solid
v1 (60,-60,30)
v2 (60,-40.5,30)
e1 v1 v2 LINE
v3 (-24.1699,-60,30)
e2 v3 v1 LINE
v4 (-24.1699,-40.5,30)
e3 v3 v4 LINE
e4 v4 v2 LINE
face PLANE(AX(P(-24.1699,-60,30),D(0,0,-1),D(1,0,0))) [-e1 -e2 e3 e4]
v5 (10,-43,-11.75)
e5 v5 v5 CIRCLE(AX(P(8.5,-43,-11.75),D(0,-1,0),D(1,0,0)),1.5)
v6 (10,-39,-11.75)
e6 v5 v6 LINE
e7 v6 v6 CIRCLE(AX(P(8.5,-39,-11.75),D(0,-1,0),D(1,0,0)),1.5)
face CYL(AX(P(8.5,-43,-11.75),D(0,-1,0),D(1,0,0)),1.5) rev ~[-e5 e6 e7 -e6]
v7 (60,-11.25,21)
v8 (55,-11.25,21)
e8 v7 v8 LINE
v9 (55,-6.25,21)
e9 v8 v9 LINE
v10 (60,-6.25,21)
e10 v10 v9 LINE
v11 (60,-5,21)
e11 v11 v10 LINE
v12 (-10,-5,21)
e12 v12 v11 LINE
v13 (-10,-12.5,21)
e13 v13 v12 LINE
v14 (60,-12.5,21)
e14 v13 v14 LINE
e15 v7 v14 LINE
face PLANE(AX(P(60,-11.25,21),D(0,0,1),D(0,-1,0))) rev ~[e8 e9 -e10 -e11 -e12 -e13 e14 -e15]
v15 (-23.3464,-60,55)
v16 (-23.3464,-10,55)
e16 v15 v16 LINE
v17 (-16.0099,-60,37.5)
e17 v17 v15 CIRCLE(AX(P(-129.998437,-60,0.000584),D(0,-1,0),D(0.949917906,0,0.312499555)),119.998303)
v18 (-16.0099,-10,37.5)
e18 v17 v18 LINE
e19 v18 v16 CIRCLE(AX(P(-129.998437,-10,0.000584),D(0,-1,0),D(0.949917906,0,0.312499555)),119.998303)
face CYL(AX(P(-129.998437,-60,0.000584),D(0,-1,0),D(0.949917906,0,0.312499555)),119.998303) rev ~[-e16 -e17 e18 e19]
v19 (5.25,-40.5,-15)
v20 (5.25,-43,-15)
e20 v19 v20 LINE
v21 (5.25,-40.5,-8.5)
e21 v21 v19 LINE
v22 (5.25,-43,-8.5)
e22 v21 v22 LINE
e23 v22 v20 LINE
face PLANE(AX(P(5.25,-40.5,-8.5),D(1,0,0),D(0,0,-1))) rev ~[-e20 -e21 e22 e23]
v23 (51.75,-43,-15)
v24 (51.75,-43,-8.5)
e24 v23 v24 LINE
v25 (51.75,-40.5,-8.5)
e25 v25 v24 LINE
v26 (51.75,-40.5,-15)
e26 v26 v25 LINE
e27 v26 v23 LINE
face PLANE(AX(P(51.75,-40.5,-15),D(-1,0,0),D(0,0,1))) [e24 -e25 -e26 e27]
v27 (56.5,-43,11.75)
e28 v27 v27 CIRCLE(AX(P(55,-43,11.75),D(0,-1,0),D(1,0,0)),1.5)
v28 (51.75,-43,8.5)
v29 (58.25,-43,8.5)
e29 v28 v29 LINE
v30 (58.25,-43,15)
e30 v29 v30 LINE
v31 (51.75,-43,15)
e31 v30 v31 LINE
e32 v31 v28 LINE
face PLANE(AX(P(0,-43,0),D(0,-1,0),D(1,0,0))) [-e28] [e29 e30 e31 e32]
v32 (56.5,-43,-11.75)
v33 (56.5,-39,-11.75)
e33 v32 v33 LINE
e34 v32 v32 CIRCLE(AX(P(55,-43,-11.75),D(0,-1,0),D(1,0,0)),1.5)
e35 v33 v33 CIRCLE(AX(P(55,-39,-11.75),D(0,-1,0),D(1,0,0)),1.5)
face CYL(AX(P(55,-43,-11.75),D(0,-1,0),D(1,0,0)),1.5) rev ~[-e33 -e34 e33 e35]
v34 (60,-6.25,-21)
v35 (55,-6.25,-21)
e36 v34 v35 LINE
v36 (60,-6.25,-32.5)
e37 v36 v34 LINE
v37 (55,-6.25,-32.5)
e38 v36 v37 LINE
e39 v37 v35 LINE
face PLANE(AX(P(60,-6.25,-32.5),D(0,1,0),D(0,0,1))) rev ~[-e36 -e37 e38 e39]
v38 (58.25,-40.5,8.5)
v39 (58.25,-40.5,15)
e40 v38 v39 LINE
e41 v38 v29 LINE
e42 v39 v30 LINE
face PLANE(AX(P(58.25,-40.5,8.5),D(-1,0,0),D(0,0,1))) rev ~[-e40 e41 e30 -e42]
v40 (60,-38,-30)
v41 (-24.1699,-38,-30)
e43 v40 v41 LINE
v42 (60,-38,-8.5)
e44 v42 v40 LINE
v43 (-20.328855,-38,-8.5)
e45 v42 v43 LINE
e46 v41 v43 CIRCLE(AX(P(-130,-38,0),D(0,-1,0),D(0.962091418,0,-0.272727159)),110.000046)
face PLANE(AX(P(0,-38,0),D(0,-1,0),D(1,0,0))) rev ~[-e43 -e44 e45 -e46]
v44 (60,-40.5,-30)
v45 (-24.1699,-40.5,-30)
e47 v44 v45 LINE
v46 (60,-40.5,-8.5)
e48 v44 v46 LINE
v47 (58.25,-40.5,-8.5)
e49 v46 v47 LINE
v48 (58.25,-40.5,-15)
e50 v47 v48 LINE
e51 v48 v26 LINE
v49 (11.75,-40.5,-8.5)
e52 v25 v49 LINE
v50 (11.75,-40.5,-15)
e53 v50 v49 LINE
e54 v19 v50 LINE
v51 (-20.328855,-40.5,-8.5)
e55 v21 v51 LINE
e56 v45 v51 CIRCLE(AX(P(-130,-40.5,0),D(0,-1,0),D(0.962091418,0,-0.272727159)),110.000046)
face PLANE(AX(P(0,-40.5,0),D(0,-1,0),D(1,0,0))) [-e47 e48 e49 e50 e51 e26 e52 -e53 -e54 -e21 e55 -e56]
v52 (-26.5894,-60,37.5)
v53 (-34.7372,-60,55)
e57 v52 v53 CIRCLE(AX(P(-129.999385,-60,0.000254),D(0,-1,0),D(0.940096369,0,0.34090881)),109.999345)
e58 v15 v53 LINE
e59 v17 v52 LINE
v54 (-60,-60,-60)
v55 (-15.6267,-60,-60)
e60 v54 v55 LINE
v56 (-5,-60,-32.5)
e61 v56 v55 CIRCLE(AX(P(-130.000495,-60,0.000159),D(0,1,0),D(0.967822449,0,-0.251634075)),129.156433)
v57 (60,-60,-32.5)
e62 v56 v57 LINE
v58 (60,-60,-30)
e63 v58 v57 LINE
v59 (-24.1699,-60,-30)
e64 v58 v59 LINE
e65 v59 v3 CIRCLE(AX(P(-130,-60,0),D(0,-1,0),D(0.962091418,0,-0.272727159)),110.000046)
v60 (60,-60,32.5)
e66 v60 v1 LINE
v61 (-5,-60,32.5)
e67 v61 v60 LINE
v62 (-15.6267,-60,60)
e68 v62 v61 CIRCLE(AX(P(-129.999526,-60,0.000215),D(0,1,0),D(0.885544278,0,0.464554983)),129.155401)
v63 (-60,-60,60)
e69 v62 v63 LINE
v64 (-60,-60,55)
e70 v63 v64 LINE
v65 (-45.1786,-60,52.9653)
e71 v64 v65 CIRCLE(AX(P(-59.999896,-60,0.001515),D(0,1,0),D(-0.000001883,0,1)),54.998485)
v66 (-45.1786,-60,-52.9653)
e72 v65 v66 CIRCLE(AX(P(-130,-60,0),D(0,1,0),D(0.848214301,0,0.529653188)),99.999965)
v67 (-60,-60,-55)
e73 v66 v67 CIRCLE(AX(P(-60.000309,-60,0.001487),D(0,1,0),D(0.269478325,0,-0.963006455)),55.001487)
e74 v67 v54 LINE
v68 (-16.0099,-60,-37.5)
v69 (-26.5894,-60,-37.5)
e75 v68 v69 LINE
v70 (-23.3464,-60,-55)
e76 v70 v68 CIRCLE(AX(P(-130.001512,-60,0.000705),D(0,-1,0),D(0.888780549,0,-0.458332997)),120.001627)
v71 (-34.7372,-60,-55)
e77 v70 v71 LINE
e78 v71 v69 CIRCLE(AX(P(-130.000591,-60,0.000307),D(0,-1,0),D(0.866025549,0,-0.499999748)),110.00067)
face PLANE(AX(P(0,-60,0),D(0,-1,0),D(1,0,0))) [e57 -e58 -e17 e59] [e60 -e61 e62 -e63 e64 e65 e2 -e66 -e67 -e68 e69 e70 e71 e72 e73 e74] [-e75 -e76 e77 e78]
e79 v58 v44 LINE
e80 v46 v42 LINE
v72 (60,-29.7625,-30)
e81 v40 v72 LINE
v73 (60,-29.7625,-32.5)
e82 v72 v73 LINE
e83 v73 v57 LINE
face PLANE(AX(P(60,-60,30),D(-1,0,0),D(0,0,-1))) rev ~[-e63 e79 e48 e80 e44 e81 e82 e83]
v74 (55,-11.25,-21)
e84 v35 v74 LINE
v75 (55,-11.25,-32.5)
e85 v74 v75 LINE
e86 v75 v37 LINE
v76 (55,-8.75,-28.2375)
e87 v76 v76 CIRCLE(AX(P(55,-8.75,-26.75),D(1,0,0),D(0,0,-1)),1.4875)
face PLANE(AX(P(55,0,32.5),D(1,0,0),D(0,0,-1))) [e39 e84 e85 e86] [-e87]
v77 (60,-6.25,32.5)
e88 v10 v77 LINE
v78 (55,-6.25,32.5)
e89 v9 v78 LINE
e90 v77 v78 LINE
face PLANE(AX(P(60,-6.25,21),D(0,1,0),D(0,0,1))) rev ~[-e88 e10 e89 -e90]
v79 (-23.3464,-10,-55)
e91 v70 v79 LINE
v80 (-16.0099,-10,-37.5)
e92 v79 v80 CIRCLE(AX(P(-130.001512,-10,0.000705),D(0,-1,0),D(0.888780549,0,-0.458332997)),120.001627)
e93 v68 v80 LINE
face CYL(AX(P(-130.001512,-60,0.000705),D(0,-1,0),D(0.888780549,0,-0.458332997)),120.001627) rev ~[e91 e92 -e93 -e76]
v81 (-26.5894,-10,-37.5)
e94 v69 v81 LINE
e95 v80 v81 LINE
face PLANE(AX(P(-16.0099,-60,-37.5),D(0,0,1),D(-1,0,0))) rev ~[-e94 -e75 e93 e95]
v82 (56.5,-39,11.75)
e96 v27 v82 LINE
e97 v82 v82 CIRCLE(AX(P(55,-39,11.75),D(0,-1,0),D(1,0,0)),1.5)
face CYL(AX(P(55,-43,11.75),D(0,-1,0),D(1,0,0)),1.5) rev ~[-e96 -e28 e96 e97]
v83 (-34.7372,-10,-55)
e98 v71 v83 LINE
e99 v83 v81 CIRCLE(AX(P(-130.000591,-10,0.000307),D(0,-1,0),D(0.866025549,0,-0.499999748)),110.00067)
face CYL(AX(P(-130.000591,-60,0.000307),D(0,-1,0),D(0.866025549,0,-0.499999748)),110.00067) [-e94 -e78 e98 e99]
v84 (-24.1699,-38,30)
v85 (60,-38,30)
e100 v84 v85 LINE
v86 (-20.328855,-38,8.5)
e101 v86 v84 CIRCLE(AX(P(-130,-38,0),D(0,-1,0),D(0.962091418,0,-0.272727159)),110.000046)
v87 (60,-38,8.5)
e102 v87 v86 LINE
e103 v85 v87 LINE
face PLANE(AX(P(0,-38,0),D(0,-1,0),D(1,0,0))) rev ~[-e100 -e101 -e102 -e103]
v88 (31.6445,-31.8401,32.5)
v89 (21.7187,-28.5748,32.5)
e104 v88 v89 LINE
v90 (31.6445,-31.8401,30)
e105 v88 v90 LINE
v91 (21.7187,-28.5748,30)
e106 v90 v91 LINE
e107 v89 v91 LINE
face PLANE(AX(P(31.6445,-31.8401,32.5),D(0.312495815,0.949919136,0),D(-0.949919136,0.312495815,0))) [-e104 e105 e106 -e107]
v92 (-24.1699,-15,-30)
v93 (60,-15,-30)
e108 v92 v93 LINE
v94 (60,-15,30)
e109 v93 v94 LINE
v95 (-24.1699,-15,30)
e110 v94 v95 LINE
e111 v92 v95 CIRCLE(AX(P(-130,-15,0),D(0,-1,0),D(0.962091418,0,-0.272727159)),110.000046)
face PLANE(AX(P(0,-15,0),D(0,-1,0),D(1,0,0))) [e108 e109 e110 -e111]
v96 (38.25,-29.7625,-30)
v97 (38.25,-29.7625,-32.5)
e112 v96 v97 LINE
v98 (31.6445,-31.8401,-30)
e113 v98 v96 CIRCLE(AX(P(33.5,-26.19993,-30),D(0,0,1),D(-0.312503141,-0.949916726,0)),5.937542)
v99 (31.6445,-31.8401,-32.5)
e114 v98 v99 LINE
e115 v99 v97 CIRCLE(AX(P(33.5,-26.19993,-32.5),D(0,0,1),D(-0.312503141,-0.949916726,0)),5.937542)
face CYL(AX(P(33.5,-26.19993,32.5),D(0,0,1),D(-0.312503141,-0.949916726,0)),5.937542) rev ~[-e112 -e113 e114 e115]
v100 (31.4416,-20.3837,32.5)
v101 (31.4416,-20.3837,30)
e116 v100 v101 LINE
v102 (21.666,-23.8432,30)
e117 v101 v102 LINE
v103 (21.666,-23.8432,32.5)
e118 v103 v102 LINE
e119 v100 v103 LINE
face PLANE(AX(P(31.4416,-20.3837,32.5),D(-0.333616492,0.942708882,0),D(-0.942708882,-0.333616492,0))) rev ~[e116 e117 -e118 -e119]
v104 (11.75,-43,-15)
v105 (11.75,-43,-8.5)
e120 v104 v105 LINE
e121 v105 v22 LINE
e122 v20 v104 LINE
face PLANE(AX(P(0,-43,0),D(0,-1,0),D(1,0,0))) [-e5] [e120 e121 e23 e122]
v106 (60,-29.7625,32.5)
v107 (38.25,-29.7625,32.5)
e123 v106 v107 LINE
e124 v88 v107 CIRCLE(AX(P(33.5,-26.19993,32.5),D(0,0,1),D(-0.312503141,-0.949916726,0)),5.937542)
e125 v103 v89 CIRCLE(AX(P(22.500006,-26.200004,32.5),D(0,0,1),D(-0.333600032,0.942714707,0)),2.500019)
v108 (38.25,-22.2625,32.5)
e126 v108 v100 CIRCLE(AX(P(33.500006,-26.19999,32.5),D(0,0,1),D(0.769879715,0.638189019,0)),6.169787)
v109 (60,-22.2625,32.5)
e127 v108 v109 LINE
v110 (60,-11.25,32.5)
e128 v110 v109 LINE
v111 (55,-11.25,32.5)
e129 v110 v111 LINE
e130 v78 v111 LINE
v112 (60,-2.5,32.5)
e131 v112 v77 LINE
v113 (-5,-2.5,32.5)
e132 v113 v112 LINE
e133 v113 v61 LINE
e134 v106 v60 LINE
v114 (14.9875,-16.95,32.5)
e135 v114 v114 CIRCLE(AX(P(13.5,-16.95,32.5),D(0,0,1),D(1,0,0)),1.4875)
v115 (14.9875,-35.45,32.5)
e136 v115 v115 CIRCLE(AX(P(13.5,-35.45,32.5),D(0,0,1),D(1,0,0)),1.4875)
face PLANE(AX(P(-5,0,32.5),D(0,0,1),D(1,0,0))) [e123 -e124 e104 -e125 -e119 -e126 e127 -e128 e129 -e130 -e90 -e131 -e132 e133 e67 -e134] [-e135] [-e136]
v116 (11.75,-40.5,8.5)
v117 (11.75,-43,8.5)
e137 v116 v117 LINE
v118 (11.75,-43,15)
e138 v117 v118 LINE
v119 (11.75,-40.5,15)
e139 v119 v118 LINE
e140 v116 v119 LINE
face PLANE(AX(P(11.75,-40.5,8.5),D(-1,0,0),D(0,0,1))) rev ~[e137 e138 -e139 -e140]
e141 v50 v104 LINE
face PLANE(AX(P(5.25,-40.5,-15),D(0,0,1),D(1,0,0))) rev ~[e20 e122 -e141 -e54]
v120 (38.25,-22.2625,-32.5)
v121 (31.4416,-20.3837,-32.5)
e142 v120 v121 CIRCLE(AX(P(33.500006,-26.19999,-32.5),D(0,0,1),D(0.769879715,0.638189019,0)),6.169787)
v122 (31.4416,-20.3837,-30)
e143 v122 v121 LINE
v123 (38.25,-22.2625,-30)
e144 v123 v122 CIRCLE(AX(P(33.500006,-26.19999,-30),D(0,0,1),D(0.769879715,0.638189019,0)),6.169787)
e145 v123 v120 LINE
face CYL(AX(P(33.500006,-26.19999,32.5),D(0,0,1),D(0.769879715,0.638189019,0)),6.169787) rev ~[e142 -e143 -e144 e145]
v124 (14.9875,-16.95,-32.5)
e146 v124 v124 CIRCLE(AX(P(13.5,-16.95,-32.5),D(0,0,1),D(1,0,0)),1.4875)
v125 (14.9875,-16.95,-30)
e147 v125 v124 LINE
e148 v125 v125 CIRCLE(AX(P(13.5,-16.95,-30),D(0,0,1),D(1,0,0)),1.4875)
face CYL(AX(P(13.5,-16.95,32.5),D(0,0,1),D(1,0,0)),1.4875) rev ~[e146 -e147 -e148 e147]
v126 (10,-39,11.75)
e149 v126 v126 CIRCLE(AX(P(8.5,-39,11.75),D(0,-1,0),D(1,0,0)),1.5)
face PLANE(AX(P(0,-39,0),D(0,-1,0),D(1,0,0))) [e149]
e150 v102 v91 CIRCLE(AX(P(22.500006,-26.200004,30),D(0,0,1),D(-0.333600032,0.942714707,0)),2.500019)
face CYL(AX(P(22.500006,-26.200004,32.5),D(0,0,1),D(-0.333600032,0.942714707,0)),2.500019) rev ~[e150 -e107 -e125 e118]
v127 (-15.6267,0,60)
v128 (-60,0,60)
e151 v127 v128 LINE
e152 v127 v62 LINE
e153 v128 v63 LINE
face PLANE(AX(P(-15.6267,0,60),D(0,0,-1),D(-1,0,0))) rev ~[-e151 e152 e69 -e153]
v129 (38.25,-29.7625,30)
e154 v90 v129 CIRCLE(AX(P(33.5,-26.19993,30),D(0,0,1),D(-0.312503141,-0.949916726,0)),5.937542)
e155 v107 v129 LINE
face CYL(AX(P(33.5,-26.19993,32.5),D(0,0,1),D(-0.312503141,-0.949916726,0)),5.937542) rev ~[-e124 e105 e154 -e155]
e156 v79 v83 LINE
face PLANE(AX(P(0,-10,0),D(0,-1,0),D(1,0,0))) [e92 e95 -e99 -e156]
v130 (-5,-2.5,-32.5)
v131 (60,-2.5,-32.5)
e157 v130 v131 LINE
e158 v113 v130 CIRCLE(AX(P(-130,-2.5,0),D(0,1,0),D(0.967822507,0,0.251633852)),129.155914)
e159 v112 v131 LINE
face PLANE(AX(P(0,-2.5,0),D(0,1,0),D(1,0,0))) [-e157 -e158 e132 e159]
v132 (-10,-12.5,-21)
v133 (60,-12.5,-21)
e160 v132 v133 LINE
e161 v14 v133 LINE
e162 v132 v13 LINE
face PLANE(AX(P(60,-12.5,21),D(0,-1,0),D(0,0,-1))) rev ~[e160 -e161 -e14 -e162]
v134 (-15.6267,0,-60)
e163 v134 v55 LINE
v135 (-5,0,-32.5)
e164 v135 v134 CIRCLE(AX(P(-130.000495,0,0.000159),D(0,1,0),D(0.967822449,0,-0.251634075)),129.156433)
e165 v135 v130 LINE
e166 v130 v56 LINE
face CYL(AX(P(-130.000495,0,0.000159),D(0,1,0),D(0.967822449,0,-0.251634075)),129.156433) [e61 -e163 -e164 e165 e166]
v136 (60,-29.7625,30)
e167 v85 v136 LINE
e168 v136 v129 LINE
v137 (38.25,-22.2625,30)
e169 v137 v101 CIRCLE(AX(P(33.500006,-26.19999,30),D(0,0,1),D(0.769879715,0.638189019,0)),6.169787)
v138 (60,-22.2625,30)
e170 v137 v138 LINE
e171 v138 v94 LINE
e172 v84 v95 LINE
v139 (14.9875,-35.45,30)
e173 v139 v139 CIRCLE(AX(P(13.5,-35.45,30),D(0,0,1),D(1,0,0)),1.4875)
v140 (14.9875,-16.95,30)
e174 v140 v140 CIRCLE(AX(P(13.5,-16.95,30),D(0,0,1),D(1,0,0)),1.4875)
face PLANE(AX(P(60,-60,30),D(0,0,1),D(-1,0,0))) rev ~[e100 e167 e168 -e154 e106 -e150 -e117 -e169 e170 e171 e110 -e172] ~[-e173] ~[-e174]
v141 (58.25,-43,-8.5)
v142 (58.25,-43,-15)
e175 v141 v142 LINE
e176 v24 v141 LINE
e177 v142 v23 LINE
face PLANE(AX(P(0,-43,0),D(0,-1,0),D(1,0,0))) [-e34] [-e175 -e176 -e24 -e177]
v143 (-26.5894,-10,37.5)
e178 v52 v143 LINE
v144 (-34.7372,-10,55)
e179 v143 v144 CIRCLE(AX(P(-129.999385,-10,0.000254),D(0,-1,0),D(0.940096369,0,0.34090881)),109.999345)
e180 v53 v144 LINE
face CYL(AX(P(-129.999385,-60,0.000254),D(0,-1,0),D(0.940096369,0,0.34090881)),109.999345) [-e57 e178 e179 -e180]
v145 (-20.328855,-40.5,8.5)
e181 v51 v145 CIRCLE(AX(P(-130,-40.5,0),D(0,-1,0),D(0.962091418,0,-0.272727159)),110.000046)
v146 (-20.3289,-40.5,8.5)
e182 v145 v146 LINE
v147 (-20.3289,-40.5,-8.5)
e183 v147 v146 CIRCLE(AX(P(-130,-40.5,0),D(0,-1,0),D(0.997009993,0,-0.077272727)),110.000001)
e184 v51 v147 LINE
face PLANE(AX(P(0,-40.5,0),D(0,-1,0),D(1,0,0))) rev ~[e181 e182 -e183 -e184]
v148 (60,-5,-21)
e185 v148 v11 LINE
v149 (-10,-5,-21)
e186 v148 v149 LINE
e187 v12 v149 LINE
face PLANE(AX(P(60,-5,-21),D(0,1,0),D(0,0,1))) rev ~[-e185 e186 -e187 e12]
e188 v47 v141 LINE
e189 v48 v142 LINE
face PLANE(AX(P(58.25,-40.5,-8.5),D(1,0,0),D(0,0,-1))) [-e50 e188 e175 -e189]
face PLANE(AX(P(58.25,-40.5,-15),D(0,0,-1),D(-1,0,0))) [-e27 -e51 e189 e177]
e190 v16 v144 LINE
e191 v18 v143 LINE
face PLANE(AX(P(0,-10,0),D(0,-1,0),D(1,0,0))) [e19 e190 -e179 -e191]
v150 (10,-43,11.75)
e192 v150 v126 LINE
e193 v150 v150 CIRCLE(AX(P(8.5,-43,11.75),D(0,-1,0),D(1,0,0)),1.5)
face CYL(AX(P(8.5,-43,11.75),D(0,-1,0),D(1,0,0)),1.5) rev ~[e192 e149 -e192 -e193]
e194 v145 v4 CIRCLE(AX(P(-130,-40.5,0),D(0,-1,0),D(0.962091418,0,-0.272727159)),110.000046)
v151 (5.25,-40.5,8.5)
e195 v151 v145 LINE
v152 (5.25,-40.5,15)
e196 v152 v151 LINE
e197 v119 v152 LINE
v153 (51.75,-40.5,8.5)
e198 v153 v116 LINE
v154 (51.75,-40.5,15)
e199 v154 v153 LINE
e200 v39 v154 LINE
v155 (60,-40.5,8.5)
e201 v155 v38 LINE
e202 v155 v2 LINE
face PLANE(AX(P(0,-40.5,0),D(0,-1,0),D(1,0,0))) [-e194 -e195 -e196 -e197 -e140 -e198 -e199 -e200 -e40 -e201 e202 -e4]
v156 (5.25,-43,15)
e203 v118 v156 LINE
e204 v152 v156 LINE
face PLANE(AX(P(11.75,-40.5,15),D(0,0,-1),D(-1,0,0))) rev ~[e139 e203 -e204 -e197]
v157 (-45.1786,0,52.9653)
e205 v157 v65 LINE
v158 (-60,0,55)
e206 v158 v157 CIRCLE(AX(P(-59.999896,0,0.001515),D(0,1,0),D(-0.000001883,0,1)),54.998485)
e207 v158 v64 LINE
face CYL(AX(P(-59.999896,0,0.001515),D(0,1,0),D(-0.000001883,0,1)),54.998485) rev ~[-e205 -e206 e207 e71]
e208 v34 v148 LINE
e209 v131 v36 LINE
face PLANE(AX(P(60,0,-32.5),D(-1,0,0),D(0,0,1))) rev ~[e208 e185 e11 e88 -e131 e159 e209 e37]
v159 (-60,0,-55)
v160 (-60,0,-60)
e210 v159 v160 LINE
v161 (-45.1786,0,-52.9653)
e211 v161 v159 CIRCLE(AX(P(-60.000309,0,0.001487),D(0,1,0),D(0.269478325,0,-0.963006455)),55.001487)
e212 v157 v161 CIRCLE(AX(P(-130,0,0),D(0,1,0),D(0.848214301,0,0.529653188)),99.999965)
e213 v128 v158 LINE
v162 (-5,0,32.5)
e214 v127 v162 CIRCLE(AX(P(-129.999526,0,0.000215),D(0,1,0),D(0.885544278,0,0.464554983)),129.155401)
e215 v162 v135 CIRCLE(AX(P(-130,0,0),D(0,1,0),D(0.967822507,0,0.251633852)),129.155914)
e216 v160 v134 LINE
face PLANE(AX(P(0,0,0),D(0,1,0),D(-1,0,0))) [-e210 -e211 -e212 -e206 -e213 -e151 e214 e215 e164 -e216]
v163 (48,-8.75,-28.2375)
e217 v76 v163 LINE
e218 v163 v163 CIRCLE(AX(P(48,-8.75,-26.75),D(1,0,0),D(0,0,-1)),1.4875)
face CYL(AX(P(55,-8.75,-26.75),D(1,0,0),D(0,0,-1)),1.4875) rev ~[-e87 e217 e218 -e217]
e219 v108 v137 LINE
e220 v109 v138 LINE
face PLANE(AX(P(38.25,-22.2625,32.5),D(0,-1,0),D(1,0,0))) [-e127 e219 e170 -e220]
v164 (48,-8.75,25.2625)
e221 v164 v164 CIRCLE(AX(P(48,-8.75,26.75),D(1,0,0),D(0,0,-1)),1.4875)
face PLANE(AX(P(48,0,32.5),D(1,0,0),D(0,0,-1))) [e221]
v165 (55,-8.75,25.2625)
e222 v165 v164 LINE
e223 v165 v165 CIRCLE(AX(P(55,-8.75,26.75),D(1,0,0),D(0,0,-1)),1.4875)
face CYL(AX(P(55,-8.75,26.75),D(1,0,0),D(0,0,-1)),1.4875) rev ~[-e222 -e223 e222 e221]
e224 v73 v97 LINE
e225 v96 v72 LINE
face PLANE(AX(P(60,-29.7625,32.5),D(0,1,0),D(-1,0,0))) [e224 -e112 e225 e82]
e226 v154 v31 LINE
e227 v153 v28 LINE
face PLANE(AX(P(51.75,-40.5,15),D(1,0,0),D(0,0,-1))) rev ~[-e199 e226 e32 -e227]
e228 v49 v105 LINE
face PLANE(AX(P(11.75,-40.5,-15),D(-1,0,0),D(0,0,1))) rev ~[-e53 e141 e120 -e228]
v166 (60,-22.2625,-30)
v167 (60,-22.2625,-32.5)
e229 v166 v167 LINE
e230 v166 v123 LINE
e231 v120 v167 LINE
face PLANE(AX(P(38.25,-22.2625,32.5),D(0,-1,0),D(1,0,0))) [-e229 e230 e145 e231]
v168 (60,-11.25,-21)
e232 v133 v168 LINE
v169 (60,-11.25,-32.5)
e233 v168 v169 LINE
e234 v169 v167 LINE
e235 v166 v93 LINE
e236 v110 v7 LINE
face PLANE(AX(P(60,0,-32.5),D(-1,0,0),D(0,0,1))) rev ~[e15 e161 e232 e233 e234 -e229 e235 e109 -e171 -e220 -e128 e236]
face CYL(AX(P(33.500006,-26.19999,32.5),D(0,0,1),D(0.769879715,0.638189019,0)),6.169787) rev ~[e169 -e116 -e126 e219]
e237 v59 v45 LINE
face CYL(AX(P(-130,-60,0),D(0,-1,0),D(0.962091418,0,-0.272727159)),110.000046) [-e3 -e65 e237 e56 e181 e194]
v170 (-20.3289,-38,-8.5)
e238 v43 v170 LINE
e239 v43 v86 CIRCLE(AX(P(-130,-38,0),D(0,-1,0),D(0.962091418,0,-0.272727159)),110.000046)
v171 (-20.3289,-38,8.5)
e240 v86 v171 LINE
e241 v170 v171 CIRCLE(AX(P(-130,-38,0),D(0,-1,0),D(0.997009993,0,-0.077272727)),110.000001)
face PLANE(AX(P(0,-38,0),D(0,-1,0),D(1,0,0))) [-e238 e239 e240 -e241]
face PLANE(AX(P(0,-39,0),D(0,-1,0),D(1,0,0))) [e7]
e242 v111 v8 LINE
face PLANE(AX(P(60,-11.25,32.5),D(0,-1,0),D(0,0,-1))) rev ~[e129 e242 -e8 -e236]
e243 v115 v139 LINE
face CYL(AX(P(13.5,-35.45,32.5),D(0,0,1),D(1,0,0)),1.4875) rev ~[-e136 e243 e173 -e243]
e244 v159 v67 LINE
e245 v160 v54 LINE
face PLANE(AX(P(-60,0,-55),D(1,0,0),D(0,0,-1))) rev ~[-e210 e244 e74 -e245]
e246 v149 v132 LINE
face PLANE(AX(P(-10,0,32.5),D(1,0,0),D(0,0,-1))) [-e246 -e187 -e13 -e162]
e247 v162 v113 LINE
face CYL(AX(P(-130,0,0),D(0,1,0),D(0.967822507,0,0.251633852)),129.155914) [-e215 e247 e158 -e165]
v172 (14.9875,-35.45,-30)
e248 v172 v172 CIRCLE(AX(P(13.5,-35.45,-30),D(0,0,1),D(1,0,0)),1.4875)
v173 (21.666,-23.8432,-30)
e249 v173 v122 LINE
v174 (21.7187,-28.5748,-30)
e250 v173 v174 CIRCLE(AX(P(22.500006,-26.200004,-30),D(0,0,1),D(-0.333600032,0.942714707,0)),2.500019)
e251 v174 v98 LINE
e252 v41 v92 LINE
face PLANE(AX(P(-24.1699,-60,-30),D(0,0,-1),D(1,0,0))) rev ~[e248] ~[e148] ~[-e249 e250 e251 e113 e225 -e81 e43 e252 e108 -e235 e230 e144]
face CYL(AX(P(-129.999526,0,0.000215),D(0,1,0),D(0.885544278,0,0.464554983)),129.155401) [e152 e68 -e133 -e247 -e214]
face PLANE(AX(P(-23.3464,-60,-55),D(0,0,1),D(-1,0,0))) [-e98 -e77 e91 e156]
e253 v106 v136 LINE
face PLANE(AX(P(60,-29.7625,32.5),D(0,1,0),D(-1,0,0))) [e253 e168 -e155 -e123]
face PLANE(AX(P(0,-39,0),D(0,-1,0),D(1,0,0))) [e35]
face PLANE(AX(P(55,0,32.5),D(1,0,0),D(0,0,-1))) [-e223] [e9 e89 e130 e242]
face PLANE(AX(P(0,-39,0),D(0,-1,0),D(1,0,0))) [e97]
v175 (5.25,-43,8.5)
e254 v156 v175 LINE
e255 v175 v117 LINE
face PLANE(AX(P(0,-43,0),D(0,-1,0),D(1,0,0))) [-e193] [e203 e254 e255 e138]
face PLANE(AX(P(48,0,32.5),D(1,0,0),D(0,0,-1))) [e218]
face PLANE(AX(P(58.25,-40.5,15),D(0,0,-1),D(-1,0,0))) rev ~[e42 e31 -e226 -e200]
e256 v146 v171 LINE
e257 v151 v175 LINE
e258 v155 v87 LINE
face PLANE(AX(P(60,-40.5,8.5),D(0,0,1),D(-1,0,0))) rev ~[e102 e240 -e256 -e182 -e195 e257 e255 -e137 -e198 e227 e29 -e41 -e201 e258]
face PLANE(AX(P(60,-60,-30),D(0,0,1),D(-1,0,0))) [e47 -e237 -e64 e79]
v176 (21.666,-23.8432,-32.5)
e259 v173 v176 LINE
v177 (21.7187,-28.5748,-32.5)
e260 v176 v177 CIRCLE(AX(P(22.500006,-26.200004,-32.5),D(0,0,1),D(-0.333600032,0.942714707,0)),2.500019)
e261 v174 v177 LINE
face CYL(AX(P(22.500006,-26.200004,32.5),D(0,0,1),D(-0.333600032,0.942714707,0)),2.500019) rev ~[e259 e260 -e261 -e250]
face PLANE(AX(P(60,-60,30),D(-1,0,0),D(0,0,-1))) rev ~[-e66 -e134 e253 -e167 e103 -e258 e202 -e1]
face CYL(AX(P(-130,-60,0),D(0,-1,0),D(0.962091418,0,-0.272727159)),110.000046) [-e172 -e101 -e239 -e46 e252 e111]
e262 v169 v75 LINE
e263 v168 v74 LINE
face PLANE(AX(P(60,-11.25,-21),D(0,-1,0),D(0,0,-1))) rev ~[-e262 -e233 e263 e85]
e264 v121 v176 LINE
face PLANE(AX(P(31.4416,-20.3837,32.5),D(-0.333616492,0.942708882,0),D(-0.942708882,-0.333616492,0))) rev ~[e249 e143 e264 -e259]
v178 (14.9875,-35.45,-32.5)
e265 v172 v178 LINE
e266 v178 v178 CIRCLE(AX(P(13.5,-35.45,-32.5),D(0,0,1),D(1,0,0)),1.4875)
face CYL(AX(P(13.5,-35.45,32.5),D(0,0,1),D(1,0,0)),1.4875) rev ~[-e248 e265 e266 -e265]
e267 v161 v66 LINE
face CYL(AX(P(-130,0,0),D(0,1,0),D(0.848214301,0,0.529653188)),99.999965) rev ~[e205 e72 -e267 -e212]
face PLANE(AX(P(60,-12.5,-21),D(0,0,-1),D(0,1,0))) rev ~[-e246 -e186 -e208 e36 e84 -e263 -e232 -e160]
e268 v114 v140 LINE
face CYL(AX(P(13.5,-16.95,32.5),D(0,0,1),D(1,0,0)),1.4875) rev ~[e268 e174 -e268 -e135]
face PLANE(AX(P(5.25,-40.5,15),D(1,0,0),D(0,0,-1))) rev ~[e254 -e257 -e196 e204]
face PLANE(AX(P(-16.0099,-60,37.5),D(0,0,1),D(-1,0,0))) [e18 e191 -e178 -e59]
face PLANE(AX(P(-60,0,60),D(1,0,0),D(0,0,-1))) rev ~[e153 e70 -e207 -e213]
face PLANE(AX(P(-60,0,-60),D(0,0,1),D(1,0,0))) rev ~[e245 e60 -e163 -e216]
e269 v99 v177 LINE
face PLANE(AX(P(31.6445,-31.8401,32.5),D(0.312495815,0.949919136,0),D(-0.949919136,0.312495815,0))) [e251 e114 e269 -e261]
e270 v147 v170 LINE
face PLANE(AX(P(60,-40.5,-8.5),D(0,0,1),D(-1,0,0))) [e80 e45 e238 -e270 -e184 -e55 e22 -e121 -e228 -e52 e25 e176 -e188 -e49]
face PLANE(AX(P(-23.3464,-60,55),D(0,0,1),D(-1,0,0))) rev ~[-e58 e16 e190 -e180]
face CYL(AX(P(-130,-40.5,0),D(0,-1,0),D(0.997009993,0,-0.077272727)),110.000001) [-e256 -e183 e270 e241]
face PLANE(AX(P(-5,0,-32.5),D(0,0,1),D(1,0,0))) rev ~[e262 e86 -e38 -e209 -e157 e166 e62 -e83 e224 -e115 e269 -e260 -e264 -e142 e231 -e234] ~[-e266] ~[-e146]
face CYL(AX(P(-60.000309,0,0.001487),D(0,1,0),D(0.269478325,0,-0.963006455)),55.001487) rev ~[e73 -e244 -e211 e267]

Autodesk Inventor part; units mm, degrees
ref_plane "YZ Plane" through (0, 0, 0) normal (1, 0, 0) x (0, 1, 0)
ref_plane "XZ Plane" through (0, 0, 0) normal (0, 1, 0) x (-1, 0, 0)
ref_plane "XY Plane" through (0, 0, 0) normal (0, 0, 1) x (1, 0, 0)
sketch "Boceto2" plane through (0, 0, 0) normal (0, 1, 0) x (-1, 0, 0)
  line L0 (60, -60) -> (15.6267, -60)
  line L1 (15.6267, 60) -> (60, 60)
  arc A0 (45.1786, 52.9653) -> (45.1786, -52.9653) centre (130, 0) ccw
  arc A1 (45.1786, -52.9653) -> (60, -55) centre (60, 0) ccw
  arc A2 (60, 55) -> (45.1786, 52.9653) centre (60, 0) ccw
  line L2 (60, 60) -> (60, 55)
  line L3 (60, -55) -> (60, -60)
  line L4 (5, 32.5) -> (-60, 32.5)
  line L5 (5, -32.5) -> (-60, -32.5)
  line L6 (-60, -32.5) -> (-60, 32.5)
  arc A3 (15.6267, 60) -> (5, 32.5) centre (130, 0) ccw
  arc A4 (5, -32.5) -> (15.6267, -60) centre (130, 0) ccw
  line L7 (-60, 0) -> (60, 0) construction
  point P0 (0, 0)
  point P1 (30, 0)
  dimension "d8" = 200
  dimension "d13" = 65
  dimension "d17" = 65
  dimension "d18" = 65
  dimension "d19" = 30
extrude "Extrusión1" add sketch "Boceto2" against normal blind 60
sketch "Boceto4" plane through (0, -60, 0) normal (0, -1, 0) x (1, 0, 0)
  line L0 (60, -32.5) -> (60, 32.5) projected
  line L1 (60, -30) -> (60, 30)
  arc A0 (-24.1699, -30) -> (-24.1699, 30) centre (-130, 0) ccw
  arc A1 (-45.1786, -52.9653) -> (-45.1786, 52.9653) centre (-130, 0) ccw projected
  line L2 (-24.1699, -30) -> (60, -30)
  line L3 (60, 30) -> (-24.1699, 30)
  point P0 (0, 0)
  point P1 (-40, 0)
  point P2 (-30, 0)
  dimension "d26" = 100
  dimension "d27" = 220
  dimension "d28" = 60
extrude "Extrusión2" cut sketch "Boceto4" against normal blind 45
sketch "Boceto5" plane through (-5, 0, 32.5) normal (0, 0, 1) x (1, 0, 0)
  line L0 (65, 0) -> (65, -60) projected
  line L1 (65, -60) -> (0, -60) projected
  line L2 (38.5, -26.2) -> (0, -26.2) construction
  line L3 (0, 0) -> (0, -60) projected
  arc A0 (26.666, -23.8432) -> (26.7187, -28.5748) centre (27.5, -26.2) ccw
  line L4 (36.4416, -20.3837) -> (26.666, -23.8432)
  line L5 (36.6445, -31.8401) -> (26.7187, -28.5748)
  line L6 (65, -29.7625) -> (43.25, -29.7625)
  line L7 (43.25, -22.2625) -> (65, -22.2625)
  line L8 (65, -22.2625) -> (65, -29.7625)
  arc A1 (36.6445, -31.8401) -> (43.25, -29.7625) centre (38.5, -26.2) ccw
  arc A2 (43.25, -22.2625) -> (36.4416, -20.3837) centre (38.5, -26.2) ccw
  circle A3 centre (18.5, -35.45) radius 1.4875
  circle A4 centre (18.5, -16.95) radius 1.4875
  point P0 (5, 0)
  point P1 (44.75, -26.2)
  dimension "d29" = 26.5
  dimension "d31" = 33.8
  dimension "d32" = 5
  dimension "d33" = 11
  dimension "d34" = 7.5
  dimension "d38" = 46.5
  dimension "d39" = 24.55
  dimension "d40" = 2.975
extrude "Extrusión3" cut sketch "Boceto5" against normal blind 65
sketch "Boceto7" plane through (0, -60, 0) normal (0, -1, 0) x (1, 0, 0)
  arc A0 (-24.1699, -30) -> (-24.1699, 30) centre (-130, 0) ccw projected
  line L0 (60, -30) -> (-24.1699, -30) projected
  line L1 (-24.1699, 30) -> (60, 30) projected
  line L2 (60, 30) -> (60, -30) projected
  point P0 (0, 0)
extrude "Extrusión4" add sketch "Boceto7" against normal blind 22
sketch "Boceto8" plane through (0, -60, 0) normal (0, -1, 0) x (1, 0, 0)
  line L0 (60, -30) -> (-24.1699, -30) projected
  arc A0 (-24.1699, -30) -> (-24.1699, 30) centre (-130, 0) ccw projected
  line L1 (-24.1699, 30) -> (60, 30) projected
  line L2 (60, -30) -> (60, 30)
  point P0 (0, 0)
extrude "Extrusión5" cut sketch "Boceto8" against normal blind 19.5
sketch "Boceto9" plane through (0, -40.5, 0) normal (0, -1, 0) x (1, 0, 0)
  line L0 (60, 8.5) -> (60, -8.5)
  arc A0 (-20.3289, -8.5) -> (-20.3289, 8.5) centre (-130, 0) ccw
  line L1 (60, 30) -> (60, -30) projected
  line L2 (60, -8.5) -> (-20.3289, -8.5)
  line L3 (60, 8.5) -> (-20.3289, 8.5)
  point P0 (0, 0)
  point P1 (60, -10)
  point P2 (60, 10)
  point P3 (-30, 0)
  dimension "d52" = 8.5
  dimension "d53" = 8.5
extrude "Extrusión6" cut sketch "Boceto9" against normal blind 2.5
sketch "Boceto10" plane through (0, -40.5, 0) normal (0, -1, 0) x (1, 0, 0)
  line L0 (55, 11.75) -> (8.5, 11.75) construction
  line L1 (8.5, 11.75) -> (8.5, -11.75) construction
  line L2 (8.5, -11.75) -> (55, -11.75) construction
  line L3 (55, -11.75) -> (55, 11.75) construction
  line L4 (60, 30) -> (60, 8.5) construction
  line L5 (-20.3289, 8.5) -> (60, 8.5) construction
  line L6 (58.25, 15) -> (51.75, 15)
  line L7 (51.75, 15) -> (51.75, 8.5)
  line L8 (51.75, 8.5) -> (58.25, 8.5)
  line L9 (58.25, 8.5) -> (58.25, 15)
  line L10 (58.25, 15) -> (51.75, 8.5) construction
  line L11 (51.75, 15) -> (58.25, 8.5) construction
  line L12 (60, -8.5) -> (-20.3289, -8.5) construction
  line L13 (58.25, -15) -> (51.75, -15)
  line L14 (51.75, -15) -> (51.75, -8.5)
  line L15 (51.75, -8.5) -> (58.25, -8.5)
  line L16 (58.25, -8.5) -> (58.25, -15)
  line L17 (58.25, -15) -> (51.75, -8.5) construction
  line L18 (51.75, -15) -> (58.25, -8.5) construction
  line L19 (5.25, -15) -> (11.75, -15)
  line L20 (11.75, -15) -> (11.75, -8.5)
  line L21 (11.75, -8.5) -> (5.25, -8.5)
  line L22 (5.25, -8.5) -> (5.25, -15)
  line L23 (5.25, -15) -> (11.75, -8.5) construction
  line L24 (11.75, -15) -> (5.25, -8.5) construction
  line L25 (11.75, 15) -> (5.25, 15)
  line L26 (5.25, 15) -> (5.25, 8.5)
  line L27 (5.25, 8.5) -> (11.75, 8.5)
  line L28 (11.75, 8.5) -> (11.75, 15)
  line L29 (11.75, 15) -> (5.25, 8.5) construction
  line L30 (5.25, 15) -> (11.75, 8.5) construction
  point P0 (0, 0)
  point P1 (8.5, 0)
  dimension "d50" = 46.5
  dimension "d51" = 23.5
  dimension "d54" = 5
  dimension "d55" = 6.5
  dimension "d56" = 6.5
extrude "Extrusión7" add sketch "Boceto10" along normal blind 2.5
sketch "Boceto11" plane through (0, -43, 0) normal (0, -1, 0) x (1, 0, 0)
  line L0 (5.25, 8.5) -> (11.75, 8.5) construction
  line L1 (5.25, 8.5) -> (5.25, 11.75) construction
  line L2 (5.25, 8.5) -> (5.25, 15) construction
  line L3 (11.75, 8.5) -> (11.75, 15) construction
  line L4 (11.75, 11.75) -> (5.25, 11.75) construction
  line L5 (8.5, 11.75) -> (55, 11.75) construction
  line L6 (55, 11.75) -> (55, -11.75) construction
  line L7 (55, -11.75) -> (8.5, -11.75) construction
  line L8 (8.5, -11.75) -> (8.5, 11.75) construction
  circle A0 centre (8.5, 11.75) radius 1.5
  circle A1 centre (8.5, -11.75) radius 1.5
  circle A2 centre (55, 11.75) radius 1.5
  circle A3 centre (55, -11.75) radius 1.5
  point P0 (0, 0)
  dimension "d59" = 46.5
  dimension "d60" = 23.5
  dimension "d62" = 3
extrude "Extrusión8" cut sketch "Boceto11" against normal blind 4
sketch "Boceto12" plane through (0, -60, 0) normal (0, -1, 0) x (1, 0, 0)
  arc A0 (-45.1786, -52.9653) -> (-45.1786, 52.9653) centre (-130, 0) ccw projected
  line L0 (-60, -60) -> (-15.6267, -60) projected
  line L1 (-23.3464, -55) -> (-34.7372, -55)
  arc A1 (-5, 32.5) -> (-15.6267, 60) centre (-130, 0) ccw projected
  line L2 (-23.3464, 55) -> (-34.7372, 55)
  arc A2 (-15.6267, -60) -> (-5, -32.5) centre (-130, 0) ccw projected
  arc A3 (-26.5894, 37.5) -> (-34.7372, 55) centre (-130, 0) ccw
  arc A4 (-34.7372, -55) -> (-26.5894, -37.5) centre (-130, 0) ccw
  arc A5 (-16.0099, 37.5) -> (-23.3464, 55) centre (-130, 0) ccw
  arc A6 (-23.3464, -55) -> (-16.0099, -37.5) centre (-130, 0) ccw
  line L3 (-16.0099, 37.5) -> (-26.5894, 37.5)
  line L4 (-16.0099, -37.5) -> (-26.5894, -37.5)
  point P0 (0, 0)
extrude "Extrusión9" cut sketch "Boceto12" against normal blind 50
sketch "Boceto14" plane through (60, 0, 32.5) normal (1, 0, 0) x (0, 0, -1)
  line L0 (65, 0) -> (65, -22.2625) construction
  line L1 (0, 0) -> (0, -60) construction
  line L2 (65, -5) -> (0, -5) construction
  line L3 (0, -6.25) -> (0, -11.25)
  line L4 (0, -12.5) -> (65, -12.5) construction
  line L5 (65, -11.25) -> (65, -6.25)
  line L6 (0, 0) -> (65, 0) construction
  line L7 (2.5, -15) -> (62.5, -15) construction
  line L8 (53.5, -5) -> (11.5, -5)
  line L9 (11.5, -12.5) -> (53.5, -12.5)
  line L10 (0, -6.25) -> (0, -11.25)
  line L11 (65, -11.25) -> (65, -6.25)
  line L12 (65, -6.25) -> (53.5, -6.25)
  line L13 (11.5, -6.25) -> (0, -6.25)
  line L14 (0, -11.25) -> (11.5, -11.25)
  line L15 (53.5, -11.25) -> (65, -11.25)
  line L16 (53.5, -12.5) -> (53.5, -11.25)
  line L17 (53.5, -6.25) -> (53.5, -5)
  line L18 (11.5, -5) -> (11.5, -6.25)
  line L19 (11.5, -11.25) -> (11.5, -12.5)
  point P0 (32.5, 0)
  point P1 (32.5, -5)
  point P2 (32.5, 0)
  dimension "d74" = 5
  dimension "d75" = 2.5
  dimension "d76" = 42
  dimension "d77" = 5
  dimension "d85" = 1.25
  dimension "d86" = 1.25
  dimension "d87" = 5
extrude "Extrusión10" cut sketch "Boceto14" against normal blind 5
sketch "Boceto15" plane through (55, 0, 32.5) normal (1, 0, 0) x (0, 0, -1)
  line L0 (53.5, -12.5) -> (11.5, -12.5) projected
  line L1 (11.5, -6.25) -> (11.5, -5) projected
  line L2 (53.5, -12.5) -> (11.5, -12.5)
  line L3 (11.5, -12.5) -> (11.5, -5)
  line L4 (11.5, -5) -> (53.5, -5)
  line L5 (53.5, -5) -> (53.5, -12.5)
  point P0 (32.5, 0)
extrude "Extrusión11" cut sketch "Boceto15" against normal blind 65
sketch "Boceto16" plane through (55, 0, 32.5) normal (1, 0, 0) x (0, 0, -1)
  line L0 (53.5, -6.25) -> (65, -6.25) construction
  line L1 (59.25, -6.25) -> (59.25, -11.25) construction
  line L2 (65, -11.25) -> (53.5, -11.25) construction
  circle A0 centre (59.25, -8.75) radius 1.4875
  line L3 (32.5, 0) -> (32.5, -15) construction
  line L4 (2.5, -15) -> (62.5, -15) construction
  circle A1 centre (5.75, -8.75) radius 1.4875
  dimension "d82" = 2.975
extrude "Extrusión12" cut sketch "Boceto16" against normal blind 7
sketch "Boceto17" plane through (0, 0, 0) normal (0, 1, 0) x (1, 0, 0)
  arc A0 (-45.1786, -52.9653) -> (-45.1786, 52.9653) centre (-130, 0) ccw construction
  line L0 (-5, 32.5) -> (60, 32.5) projected
  arc A1 (-5, -32.5) -> (-5, 32.5) centre (-130, 0) ccw
  line L1 (60, -32.5) -> (60, 32.5) projected
  line L2 (-5, -32.5) -> (60, -32.5) projected
  point P0 (0, 0)
extrude "Extrusión13" cut sketch "Boceto17" against normal blind 2.5
properties part number "Chasis"
